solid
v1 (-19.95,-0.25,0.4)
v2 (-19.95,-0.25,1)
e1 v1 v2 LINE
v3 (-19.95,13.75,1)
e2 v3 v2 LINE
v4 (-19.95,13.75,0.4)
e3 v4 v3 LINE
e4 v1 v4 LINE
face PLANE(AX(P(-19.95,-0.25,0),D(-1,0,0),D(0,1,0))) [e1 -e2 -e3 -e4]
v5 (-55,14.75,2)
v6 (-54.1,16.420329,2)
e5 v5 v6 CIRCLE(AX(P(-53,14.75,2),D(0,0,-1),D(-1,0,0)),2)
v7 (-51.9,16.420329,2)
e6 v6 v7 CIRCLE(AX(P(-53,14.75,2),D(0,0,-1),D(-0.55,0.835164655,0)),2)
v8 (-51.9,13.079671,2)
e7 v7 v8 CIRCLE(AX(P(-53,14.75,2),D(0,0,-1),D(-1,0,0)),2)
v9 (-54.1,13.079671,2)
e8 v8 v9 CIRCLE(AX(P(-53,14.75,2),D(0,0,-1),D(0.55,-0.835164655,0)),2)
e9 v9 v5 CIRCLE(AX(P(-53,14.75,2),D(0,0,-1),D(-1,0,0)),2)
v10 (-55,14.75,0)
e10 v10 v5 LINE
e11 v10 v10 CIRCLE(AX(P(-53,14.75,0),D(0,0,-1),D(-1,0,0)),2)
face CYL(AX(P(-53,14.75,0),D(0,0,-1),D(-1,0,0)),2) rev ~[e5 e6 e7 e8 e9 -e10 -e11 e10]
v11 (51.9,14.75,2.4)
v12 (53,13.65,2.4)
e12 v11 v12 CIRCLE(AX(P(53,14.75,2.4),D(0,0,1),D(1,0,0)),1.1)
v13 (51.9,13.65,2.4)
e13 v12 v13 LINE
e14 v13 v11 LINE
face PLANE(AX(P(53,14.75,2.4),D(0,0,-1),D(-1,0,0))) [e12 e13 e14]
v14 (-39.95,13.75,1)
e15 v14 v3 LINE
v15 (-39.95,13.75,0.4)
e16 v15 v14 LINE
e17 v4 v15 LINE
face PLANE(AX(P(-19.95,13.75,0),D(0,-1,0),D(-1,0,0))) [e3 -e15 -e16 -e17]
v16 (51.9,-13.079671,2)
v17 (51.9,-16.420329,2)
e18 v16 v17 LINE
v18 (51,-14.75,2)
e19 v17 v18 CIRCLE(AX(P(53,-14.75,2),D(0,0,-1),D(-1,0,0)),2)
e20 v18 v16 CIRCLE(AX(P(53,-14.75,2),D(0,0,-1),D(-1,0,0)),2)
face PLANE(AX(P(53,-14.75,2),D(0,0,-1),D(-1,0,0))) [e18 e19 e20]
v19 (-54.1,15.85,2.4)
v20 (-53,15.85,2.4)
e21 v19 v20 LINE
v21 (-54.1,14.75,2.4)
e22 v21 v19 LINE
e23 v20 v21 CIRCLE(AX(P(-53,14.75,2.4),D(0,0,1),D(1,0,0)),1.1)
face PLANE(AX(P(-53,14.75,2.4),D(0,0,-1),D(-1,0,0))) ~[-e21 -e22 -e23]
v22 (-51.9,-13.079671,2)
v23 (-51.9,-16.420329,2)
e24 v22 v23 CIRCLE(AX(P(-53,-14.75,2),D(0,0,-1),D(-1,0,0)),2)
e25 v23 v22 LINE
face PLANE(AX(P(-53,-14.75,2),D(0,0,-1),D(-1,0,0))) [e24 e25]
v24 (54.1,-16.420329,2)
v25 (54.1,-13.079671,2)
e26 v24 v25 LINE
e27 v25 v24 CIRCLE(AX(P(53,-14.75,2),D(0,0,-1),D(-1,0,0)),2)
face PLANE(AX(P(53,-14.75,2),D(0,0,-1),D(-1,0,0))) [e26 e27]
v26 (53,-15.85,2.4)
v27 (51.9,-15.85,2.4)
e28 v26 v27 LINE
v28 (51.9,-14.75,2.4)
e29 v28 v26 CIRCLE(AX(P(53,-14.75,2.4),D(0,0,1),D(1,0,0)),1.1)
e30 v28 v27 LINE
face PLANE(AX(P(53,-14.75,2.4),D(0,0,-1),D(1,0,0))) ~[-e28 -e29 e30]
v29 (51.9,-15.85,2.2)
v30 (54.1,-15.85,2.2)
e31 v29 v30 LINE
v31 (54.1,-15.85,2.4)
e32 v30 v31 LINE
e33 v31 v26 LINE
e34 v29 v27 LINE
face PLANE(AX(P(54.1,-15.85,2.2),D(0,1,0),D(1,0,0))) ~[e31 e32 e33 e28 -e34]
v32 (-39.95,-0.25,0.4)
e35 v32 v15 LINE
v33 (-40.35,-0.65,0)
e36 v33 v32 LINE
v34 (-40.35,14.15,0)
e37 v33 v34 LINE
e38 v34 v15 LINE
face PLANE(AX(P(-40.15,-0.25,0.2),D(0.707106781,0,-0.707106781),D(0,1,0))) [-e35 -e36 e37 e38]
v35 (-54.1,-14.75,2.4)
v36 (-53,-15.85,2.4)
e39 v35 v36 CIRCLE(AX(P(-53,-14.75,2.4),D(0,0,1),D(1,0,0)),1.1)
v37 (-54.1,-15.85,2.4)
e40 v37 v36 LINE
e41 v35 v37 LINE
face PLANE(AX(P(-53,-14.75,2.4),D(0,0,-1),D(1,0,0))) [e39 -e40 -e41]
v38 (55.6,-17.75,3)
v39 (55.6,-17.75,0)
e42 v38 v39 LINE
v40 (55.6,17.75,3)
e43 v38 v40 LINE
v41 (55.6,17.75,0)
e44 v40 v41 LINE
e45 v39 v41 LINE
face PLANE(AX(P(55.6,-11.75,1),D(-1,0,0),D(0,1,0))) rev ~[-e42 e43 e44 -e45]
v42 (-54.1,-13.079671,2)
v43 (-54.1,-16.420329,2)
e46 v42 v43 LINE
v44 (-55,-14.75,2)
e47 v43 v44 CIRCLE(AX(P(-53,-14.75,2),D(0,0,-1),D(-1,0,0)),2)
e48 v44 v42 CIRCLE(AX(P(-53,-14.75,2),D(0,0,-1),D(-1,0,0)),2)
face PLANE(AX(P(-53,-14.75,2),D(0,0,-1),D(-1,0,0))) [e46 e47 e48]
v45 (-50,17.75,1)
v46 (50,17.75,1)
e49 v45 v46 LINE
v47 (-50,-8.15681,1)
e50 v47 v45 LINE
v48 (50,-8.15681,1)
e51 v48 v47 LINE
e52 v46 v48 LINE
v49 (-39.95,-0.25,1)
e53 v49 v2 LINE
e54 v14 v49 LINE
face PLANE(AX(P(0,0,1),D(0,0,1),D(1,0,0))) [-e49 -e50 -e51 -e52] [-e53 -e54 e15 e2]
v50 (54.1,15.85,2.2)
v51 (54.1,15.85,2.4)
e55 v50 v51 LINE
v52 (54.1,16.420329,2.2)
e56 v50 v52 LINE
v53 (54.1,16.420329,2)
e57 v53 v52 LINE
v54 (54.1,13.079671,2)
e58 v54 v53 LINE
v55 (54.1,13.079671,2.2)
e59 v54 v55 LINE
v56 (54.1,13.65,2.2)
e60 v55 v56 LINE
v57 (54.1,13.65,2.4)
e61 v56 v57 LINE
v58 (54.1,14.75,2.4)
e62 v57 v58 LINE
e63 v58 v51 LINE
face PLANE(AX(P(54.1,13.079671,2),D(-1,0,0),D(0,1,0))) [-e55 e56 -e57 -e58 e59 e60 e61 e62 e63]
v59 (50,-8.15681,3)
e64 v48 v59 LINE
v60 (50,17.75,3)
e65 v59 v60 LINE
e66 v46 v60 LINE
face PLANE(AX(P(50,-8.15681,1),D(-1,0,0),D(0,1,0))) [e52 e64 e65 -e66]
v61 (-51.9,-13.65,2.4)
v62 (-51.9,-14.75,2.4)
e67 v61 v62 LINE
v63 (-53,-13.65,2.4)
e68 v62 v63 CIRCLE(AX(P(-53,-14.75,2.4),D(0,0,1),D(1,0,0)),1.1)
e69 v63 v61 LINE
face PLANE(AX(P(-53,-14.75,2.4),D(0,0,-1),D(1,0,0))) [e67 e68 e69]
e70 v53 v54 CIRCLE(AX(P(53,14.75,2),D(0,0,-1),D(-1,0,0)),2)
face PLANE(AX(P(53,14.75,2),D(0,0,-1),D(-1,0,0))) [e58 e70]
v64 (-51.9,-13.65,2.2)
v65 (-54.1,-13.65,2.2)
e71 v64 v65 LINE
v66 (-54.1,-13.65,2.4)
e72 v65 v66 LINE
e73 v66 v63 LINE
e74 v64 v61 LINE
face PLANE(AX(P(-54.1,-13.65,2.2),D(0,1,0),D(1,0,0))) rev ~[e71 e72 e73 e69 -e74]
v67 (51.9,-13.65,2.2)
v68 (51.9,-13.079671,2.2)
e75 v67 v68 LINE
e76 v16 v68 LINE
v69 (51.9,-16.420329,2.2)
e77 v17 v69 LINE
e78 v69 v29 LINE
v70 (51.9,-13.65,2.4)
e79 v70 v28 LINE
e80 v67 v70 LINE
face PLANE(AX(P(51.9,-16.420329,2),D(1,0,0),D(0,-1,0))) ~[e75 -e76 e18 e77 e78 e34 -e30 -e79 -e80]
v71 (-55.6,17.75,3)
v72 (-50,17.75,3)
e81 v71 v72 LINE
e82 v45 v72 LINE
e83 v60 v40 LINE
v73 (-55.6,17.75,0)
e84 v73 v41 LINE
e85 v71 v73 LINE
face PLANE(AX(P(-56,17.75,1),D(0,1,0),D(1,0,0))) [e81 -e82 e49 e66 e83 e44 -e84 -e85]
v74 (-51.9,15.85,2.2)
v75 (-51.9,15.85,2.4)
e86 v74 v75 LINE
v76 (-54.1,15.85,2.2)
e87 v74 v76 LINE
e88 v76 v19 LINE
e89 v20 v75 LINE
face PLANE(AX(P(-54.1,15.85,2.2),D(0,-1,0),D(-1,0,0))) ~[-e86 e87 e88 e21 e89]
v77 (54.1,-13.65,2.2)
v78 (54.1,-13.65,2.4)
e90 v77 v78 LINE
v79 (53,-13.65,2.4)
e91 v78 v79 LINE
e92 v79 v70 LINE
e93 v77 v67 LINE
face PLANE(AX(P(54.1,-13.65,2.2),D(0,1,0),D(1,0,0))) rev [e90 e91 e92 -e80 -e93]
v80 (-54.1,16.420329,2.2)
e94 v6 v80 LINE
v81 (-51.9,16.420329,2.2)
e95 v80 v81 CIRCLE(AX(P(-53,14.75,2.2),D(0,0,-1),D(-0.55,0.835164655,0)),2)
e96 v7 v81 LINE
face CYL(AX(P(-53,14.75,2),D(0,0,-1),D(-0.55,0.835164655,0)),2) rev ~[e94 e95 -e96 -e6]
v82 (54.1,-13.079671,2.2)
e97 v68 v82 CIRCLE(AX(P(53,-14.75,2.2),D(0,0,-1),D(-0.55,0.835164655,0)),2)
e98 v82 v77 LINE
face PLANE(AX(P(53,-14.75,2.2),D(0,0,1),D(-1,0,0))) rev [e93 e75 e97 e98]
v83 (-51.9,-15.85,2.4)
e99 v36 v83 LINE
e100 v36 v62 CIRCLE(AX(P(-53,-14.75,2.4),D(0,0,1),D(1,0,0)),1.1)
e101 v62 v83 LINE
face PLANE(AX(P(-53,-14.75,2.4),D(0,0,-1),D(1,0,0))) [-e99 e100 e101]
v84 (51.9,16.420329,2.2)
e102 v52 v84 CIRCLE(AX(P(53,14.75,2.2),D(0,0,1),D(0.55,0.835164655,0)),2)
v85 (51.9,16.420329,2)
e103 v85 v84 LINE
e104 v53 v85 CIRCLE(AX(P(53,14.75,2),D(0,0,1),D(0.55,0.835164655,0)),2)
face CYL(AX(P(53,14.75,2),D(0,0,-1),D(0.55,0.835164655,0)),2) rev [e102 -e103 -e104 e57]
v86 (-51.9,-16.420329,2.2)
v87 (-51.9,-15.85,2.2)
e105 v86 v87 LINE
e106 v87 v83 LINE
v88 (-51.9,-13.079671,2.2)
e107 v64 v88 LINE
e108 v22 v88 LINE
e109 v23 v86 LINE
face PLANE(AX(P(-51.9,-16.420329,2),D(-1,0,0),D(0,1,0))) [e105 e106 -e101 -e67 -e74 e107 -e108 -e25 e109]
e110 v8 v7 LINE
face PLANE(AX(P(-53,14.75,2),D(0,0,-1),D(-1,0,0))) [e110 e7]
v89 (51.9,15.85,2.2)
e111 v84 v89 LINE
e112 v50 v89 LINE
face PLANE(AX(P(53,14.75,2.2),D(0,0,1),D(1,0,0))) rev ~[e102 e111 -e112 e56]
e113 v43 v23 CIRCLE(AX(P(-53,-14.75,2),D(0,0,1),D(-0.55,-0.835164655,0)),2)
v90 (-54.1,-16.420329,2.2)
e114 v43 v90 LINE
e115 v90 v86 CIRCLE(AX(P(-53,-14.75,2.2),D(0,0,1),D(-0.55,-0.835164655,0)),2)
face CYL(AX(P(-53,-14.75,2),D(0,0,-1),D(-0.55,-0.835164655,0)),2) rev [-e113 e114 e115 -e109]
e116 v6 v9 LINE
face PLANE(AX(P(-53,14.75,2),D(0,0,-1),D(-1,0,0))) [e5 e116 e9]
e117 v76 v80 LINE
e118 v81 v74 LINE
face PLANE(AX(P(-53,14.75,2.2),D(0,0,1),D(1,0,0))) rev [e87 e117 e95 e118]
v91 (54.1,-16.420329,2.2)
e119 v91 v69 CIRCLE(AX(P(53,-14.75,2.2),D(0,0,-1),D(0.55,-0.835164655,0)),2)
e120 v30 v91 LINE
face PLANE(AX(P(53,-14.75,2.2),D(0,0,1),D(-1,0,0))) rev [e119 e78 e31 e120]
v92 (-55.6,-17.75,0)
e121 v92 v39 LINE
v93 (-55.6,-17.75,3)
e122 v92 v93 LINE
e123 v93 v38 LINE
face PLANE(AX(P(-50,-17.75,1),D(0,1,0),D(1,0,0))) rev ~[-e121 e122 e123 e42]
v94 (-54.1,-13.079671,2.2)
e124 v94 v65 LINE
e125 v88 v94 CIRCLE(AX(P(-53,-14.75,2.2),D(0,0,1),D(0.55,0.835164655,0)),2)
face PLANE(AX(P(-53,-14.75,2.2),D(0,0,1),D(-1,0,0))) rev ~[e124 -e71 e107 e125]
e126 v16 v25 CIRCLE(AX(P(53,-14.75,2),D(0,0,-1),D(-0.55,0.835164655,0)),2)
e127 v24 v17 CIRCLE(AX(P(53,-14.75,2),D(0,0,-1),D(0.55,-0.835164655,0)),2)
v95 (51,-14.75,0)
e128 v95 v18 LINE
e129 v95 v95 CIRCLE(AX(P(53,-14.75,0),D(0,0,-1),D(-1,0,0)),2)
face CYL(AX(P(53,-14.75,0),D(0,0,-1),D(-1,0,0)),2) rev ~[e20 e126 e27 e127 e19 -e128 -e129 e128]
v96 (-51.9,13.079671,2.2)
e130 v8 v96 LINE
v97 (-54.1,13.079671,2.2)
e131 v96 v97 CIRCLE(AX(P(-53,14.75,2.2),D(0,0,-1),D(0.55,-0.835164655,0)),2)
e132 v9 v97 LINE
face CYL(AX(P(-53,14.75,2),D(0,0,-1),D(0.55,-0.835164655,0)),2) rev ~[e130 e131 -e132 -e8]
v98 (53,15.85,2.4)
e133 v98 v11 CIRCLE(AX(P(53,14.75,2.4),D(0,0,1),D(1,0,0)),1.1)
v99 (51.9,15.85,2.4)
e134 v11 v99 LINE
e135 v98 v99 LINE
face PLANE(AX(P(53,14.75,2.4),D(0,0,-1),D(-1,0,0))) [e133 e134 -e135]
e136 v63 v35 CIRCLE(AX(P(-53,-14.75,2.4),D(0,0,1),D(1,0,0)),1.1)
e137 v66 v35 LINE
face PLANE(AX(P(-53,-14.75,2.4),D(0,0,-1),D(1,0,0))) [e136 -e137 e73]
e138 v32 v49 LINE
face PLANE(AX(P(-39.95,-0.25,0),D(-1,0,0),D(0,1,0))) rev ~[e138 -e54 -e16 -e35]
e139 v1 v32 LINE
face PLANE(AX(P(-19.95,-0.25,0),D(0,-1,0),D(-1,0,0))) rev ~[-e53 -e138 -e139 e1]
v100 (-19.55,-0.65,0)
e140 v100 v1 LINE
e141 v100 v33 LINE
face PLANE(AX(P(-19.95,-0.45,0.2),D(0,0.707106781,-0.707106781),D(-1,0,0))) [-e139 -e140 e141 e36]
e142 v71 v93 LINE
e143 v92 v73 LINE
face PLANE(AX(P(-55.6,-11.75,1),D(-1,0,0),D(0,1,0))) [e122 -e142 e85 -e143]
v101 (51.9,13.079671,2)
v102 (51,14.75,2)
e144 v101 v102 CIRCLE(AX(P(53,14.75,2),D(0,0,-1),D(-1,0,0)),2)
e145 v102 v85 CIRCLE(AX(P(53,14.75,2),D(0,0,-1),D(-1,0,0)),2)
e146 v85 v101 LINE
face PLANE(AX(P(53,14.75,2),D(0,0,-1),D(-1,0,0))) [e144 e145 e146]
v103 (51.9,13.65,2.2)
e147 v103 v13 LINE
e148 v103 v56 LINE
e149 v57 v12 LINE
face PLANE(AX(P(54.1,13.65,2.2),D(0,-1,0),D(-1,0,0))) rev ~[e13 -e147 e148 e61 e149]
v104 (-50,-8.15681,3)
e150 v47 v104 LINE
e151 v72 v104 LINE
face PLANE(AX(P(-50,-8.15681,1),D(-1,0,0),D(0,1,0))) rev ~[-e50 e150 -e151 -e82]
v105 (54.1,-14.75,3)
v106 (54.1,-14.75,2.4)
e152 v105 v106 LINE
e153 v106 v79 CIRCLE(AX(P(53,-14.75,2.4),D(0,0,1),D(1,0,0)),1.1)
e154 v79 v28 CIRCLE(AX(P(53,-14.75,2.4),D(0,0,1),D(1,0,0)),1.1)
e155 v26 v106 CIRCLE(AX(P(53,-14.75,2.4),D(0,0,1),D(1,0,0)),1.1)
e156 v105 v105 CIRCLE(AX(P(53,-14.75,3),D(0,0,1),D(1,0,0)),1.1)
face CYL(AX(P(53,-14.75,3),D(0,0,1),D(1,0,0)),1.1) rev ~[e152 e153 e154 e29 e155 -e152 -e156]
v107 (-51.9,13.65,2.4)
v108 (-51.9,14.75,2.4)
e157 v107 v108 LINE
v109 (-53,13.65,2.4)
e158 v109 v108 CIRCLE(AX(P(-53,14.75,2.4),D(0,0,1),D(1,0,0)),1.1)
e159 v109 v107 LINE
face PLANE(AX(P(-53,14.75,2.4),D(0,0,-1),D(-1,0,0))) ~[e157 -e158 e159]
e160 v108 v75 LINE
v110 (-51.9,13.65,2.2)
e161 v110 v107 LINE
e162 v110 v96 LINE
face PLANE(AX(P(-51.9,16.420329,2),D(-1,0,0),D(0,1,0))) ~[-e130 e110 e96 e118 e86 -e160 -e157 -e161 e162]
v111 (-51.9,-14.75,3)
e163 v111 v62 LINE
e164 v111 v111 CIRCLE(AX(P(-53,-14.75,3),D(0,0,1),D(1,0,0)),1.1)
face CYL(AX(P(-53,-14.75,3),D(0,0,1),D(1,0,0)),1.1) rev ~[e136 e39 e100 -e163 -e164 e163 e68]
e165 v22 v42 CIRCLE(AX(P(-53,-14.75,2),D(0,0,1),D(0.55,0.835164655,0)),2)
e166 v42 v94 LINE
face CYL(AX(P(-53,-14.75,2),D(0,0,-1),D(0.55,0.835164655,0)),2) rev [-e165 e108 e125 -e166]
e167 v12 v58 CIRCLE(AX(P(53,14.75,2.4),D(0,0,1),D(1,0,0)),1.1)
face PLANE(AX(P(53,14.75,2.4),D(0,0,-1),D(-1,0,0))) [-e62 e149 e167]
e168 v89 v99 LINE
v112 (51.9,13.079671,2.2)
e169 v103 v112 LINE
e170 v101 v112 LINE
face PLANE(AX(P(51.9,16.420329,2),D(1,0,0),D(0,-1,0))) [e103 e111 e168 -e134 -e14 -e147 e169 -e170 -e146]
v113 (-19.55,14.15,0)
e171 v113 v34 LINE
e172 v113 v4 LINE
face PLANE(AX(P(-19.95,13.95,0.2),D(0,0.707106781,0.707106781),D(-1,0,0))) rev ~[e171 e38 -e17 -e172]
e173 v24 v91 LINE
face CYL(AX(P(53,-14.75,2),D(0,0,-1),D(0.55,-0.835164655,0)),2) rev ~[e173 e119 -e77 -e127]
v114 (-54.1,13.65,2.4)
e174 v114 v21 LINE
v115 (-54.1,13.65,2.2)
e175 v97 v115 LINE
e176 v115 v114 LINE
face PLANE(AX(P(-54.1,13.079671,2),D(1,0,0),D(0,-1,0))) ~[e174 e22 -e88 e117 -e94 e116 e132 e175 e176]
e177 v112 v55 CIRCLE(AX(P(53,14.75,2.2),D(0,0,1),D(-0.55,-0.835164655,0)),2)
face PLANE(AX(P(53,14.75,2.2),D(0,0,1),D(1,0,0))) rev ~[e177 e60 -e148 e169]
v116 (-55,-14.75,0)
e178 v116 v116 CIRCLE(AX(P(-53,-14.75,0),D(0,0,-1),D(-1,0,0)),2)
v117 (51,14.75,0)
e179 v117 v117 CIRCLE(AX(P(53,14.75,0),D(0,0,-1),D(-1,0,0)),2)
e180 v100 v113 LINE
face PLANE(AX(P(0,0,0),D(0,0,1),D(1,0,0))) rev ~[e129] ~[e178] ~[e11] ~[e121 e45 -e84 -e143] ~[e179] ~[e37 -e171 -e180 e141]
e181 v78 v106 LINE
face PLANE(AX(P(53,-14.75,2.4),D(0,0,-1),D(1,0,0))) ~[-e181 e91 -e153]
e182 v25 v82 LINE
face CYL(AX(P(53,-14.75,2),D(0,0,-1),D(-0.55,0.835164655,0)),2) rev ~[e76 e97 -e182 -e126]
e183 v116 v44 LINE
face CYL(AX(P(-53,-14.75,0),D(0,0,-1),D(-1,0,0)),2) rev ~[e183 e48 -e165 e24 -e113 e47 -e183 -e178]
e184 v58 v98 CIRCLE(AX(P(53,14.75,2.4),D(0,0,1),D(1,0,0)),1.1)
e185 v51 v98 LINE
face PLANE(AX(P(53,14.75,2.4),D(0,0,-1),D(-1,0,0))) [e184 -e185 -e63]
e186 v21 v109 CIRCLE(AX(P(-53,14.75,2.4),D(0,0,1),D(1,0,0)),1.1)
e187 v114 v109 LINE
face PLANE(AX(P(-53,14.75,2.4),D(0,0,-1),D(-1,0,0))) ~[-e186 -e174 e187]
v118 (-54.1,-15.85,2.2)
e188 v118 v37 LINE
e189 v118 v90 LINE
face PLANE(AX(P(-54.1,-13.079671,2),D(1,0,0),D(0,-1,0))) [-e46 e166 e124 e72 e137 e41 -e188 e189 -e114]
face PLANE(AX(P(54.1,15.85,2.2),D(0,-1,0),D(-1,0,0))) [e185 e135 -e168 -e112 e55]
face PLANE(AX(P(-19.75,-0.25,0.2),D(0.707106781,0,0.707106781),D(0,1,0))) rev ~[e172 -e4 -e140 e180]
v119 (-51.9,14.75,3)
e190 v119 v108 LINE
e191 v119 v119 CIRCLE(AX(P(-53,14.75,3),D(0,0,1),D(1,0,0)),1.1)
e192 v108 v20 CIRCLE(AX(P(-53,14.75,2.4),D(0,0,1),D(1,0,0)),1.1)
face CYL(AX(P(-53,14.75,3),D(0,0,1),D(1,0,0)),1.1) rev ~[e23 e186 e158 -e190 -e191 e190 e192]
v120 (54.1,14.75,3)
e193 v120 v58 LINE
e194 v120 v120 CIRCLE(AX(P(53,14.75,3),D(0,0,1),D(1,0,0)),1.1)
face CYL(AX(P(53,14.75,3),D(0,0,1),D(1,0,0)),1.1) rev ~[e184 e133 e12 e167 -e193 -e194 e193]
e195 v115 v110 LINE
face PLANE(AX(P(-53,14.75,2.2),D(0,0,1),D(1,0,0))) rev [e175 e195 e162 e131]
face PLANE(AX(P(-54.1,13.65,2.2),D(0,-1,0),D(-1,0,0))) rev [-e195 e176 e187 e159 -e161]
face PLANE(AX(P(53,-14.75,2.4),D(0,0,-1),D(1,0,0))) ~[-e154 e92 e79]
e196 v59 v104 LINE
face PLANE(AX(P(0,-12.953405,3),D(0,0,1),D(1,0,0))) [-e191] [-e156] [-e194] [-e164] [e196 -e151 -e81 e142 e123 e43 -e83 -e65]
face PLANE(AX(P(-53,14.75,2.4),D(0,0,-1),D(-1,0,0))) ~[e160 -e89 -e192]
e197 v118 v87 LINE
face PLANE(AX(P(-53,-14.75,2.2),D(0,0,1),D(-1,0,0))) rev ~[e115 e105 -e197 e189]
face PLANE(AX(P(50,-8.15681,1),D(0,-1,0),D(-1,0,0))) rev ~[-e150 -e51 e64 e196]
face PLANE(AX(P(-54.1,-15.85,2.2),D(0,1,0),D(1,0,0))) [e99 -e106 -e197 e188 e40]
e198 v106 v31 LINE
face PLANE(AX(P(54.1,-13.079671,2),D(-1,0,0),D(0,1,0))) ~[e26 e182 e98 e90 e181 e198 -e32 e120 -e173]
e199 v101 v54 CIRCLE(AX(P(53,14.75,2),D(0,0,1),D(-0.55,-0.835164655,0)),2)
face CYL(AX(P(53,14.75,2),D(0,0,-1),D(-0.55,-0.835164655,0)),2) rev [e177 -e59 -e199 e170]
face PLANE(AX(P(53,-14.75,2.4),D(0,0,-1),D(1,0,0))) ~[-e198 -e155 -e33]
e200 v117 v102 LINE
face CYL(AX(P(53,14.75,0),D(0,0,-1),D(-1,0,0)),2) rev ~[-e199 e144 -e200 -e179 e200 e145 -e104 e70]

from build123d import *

# Parameters (mm, degrees)
SKETCH1_W                       = 112
SKETCH1_H                       = 35.5
BOSS_EXTRUDE1_DEPTH             = 1
SKETCH2_W                       = 6
SKETCH2_H                       = 6
BOSS_EXTRUDE2_DEPTH             = 2
SKETCH3_R                       = 1.1
CUT_EXTRUDE1_DEPTH              = 4
SKETCH4_R                       = 2
CUT_EXTRUDE2_DEPTH              = 2
SKETCH5_W                       = 20
SKETCH5_H                       = 14
CUT_EXTRUDE3_DEPTH              = 4
CHAMFER1_SIZE                   = 0.4
CUT_EXTRUDE4_DEPTH              = 0.2
SKETCH7_W                       = 2.2
SKETCH7_H                       = 2.2
CUT_EXTRUDE5_DEPTH              = 0.2
MIRROR2_COPY_1_DEPTH            = 0.2
MIRROR2_COPY_2_SKETCH_W         = 2.2
MIRROR2_COPY_2_SKETCH_H         = 2.2
MIRROR2_COPY_2_DEPTH            = 0.2
SKETCH8_W                       = 0.4
SKETCH8_H                       = 35.5
CUT_EXTRUDE6_DEPTH              = 3
CUT_EXTRUDE6_DEPTH_BACK         = 2
SKIZZE1_W                       = 5.6
SKIZZE1_H                       = 23.5
AUFSATZ_LINEAR_AUSTRAGEN1_DEPTH = 2


with BuildPart() as part:
    # Sketch1 → Boss-Extrude1 (new body)
    with BuildSketch(Plane.XY):
        Rectangle(SKETCH1_W, SKETCH1_H)
    extrude(amount=BOSS_EXTRUDE1_DEPTH)

    # Sketch2 → Boss-Extrude2 (add)
    with BuildSketch(Plane.XY.offset(1)):
        with Locations((-53, 14.75)):
            Rectangle(SKETCH2_W, SKETCH2_H)
        with Locations((-53, -14.75)):
            Rectangle(SKETCH2_W, SKETCH2_H)
        with Locations((53, -14.75)):
            Rectangle(SKETCH2_W, SKETCH2_H)
        with Locations((53, 14.75)):
            Rectangle(SKETCH2_W, SKETCH2_H)
    extrude(amount=BOSS_EXTRUDE2_DEPTH)

    # Sketch3 → Cut-Extrude1 (cut, through all)
    with BuildSketch(Plane.XY.offset(3)):
        with Locations((-53, 14.75)):
            Circle(SKETCH3_R)
        with Locations((-53, -14.75)):
            Circle(SKETCH3_R)
        with Locations((53, -14.75)):
            Circle(SKETCH3_R)
        with Locations((53, 14.75)):
            Circle(SKETCH3_R)
    extrude(amount=-CUT_EXTRUDE1_DEPTH, mode=Mode.SUBTRACT)

    # Sketch4 → Cut-Extrude2 (cut)
    with BuildSketch(Plane(origin=(0, 0, 0), x_dir=(-1, 0, 0), z_dir=(0, 0, -1))):
        with Locations((-53, 14.75)):
            Circle(SKETCH4_R)
        with Locations((-53, -14.75)):
            Circle(SKETCH4_R)
        with Locations((53, 14.75)):
            Circle(SKETCH4_R)
        with Locations((53, -14.75)):
            Circle(SKETCH4_R)
    extrude(amount=-CUT_EXTRUDE2_DEPTH, mode=Mode.SUBTRACT)

    # Sketch5 → Cut-Extrude3 (cut, through all)
    with BuildSketch(Plane(origin=(0, 0, 0), x_dir=(-1, 0, 0), z_dir=(0, 0, -1))):
        with Locations((29.95, 6.75)):
            Rectangle(SKETCH5_W, SKETCH5_H)
    extrude(amount=-CUT_EXTRUDE3_DEPTH, mode=Mode.SUBTRACT)

    # Chamfer1
    chamfer1_edges = [part.edges().sort_by_distance(p)[0] for p in [
        (-39.95, 6.75, 0),
        (-29.95, 13.75, 0),
        (-19.95, 6.75, 0),
        (-29.95, -0.25, 0),
    ]]
    chamfer(chamfer1_edges, length=CHAMFER1_SIZE)

    # Sketch6 → Cut-Extrude4 (cut)
    with BuildSketch(Plane(origin=(0, 0, 2), x_dir=(-1, 0, 0), z_dir=(0, 0, -1))):
        with BuildLine():
            Line((-54.1, 13.079670691), (-54.1, 16.420329309))
            ThreePointArc((-54.1, 16.420329309), (-53, 16.75), (-51.9, 16.420329309))
            Line((-51.9, 16.420329309), (-51.9, 13.079670691))
            ThreePointArc((-51.9, 13.079670691), (-53, 12.75), (-54.1, 13.079670691))
        make_face()
    cut_extrude4 = extrude(amount=-CUT_EXTRUDE4_DEPTH, mode=Mode.SUBTRACT)

    # Sketch7 → Cut-Extrude5 (cut)
    with BuildSketch(Plane(origin=(0, 0, 2.2), x_dir=(-1, 0, 0), z_dir=(0, 0, -1))):
        with Locations((-53, 14.75)):
            Rectangle(SKETCH7_W, SKETCH7_H)
    cut_extrude5 = extrude(amount=-CUT_EXTRUDE5_DEPTH, mode=Mode.SUBTRACT)

    # Mirror1: Cut-Extrude4, Cut-Extrude5 across plane
    add(cut_extrude4.mirror(Plane(origin=(0, 0, 0), x_dir=(0, 0, 1), z_dir=(1, 0, 0))), mode=Mode.SUBTRACT)
    add(cut_extrude5.mirror(Plane(origin=(0, 0, 0), x_dir=(0, 0, 1), z_dir=(1, 0, 0))), mode=Mode.SUBTRACT)

    # Mirror2: Cut-Extrude4, Cut-Extrude5 across plane
    add(cut_extrude4.mirror(Plane.ZX), mode=Mode.SUBTRACT)
    add(cut_extrude5.mirror(Plane.ZX), mode=Mode.SUBTRACT)

    # Mirror2 copy 1 sketch → Mirror2 copy 1 (cut)
    with BuildSketch(Plane(origin=(0, 0, 2), x_dir=(1, 0, 0), z_dir=(0, 0, -1))):
        with BuildLine():
            Line((-54.1, 13.079670691), (-54.1, 16.420329309))
            ThreePointArc((-54.1, 16.420329309), (-53, 16.75), (-51.9, 16.420329309))
            Line((-51.9, 16.420329309), (-51.9, 13.079670691))
            ThreePointArc((-51.9, 13.079670691), (-53, 12.75), (-54.1, 13.079670691))
        make_face()
    extrude(amount=-MIRROR2_COPY_1_DEPTH, mode=Mode.SUBTRACT)

    # Mirror2 copy 2 sketch → Mirror2 copy 2 (cut)
    with BuildSketch(Plane(origin=(0, 0, 2.2), x_dir=(1, 0, 0), z_dir=(0, 0, -1))):
        with Locations((-53, 14.75)):
            Rectangle(MIRROR2_COPY_2_SKETCH_W, MIRROR2_COPY_2_SKETCH_H)
    extrude(amount=-MIRROR2_COPY_2_DEPTH, mode=Mode.SUBTRACT)

    # Sketch8 → Cut-Extrude6 (cut, two sides)
    with BuildSketch(Plane.XY.offset(1)) as cut_extrude6_sk:
        with Locations((-55.8, 0)):
            Rectangle(SKETCH8_W, SKETCH8_H)
        with Locations((55.8, 0)):
            Rectangle(SKETCH8_W, SKETCH8_H)
    extrude(amount=CUT_EXTRUDE6_DEPTH, mode=Mode.SUBTRACT)
    extrude(cut_extrude6_sk.sketch, amount=-CUT_EXTRUDE6_DEPTH_BACK, mode=Mode.SUBTRACT)

    # Skizze1 → Aufsatz-Linear austragen1 (add)
    with BuildSketch(Plane.XY.offset(1)):
        Polygon((50, -8.156810447), (-50, -8.156810447), (-50, -11.75), (-50, -17.75), (50, -17.75), (50, -11.75), align=None)
        with Locations((-52.8, 0)):
            Rectangle(SKIZZE1_W, SKIZZE1_H)
        with Locations((52.8, 0)):
            Rectangle(SKIZZE1_W, SKIZZE1_H)
    extrude(amount=AUFSATZ_LINEAR_AUSTRAGEN1_DEPTH)


solid = part.part
